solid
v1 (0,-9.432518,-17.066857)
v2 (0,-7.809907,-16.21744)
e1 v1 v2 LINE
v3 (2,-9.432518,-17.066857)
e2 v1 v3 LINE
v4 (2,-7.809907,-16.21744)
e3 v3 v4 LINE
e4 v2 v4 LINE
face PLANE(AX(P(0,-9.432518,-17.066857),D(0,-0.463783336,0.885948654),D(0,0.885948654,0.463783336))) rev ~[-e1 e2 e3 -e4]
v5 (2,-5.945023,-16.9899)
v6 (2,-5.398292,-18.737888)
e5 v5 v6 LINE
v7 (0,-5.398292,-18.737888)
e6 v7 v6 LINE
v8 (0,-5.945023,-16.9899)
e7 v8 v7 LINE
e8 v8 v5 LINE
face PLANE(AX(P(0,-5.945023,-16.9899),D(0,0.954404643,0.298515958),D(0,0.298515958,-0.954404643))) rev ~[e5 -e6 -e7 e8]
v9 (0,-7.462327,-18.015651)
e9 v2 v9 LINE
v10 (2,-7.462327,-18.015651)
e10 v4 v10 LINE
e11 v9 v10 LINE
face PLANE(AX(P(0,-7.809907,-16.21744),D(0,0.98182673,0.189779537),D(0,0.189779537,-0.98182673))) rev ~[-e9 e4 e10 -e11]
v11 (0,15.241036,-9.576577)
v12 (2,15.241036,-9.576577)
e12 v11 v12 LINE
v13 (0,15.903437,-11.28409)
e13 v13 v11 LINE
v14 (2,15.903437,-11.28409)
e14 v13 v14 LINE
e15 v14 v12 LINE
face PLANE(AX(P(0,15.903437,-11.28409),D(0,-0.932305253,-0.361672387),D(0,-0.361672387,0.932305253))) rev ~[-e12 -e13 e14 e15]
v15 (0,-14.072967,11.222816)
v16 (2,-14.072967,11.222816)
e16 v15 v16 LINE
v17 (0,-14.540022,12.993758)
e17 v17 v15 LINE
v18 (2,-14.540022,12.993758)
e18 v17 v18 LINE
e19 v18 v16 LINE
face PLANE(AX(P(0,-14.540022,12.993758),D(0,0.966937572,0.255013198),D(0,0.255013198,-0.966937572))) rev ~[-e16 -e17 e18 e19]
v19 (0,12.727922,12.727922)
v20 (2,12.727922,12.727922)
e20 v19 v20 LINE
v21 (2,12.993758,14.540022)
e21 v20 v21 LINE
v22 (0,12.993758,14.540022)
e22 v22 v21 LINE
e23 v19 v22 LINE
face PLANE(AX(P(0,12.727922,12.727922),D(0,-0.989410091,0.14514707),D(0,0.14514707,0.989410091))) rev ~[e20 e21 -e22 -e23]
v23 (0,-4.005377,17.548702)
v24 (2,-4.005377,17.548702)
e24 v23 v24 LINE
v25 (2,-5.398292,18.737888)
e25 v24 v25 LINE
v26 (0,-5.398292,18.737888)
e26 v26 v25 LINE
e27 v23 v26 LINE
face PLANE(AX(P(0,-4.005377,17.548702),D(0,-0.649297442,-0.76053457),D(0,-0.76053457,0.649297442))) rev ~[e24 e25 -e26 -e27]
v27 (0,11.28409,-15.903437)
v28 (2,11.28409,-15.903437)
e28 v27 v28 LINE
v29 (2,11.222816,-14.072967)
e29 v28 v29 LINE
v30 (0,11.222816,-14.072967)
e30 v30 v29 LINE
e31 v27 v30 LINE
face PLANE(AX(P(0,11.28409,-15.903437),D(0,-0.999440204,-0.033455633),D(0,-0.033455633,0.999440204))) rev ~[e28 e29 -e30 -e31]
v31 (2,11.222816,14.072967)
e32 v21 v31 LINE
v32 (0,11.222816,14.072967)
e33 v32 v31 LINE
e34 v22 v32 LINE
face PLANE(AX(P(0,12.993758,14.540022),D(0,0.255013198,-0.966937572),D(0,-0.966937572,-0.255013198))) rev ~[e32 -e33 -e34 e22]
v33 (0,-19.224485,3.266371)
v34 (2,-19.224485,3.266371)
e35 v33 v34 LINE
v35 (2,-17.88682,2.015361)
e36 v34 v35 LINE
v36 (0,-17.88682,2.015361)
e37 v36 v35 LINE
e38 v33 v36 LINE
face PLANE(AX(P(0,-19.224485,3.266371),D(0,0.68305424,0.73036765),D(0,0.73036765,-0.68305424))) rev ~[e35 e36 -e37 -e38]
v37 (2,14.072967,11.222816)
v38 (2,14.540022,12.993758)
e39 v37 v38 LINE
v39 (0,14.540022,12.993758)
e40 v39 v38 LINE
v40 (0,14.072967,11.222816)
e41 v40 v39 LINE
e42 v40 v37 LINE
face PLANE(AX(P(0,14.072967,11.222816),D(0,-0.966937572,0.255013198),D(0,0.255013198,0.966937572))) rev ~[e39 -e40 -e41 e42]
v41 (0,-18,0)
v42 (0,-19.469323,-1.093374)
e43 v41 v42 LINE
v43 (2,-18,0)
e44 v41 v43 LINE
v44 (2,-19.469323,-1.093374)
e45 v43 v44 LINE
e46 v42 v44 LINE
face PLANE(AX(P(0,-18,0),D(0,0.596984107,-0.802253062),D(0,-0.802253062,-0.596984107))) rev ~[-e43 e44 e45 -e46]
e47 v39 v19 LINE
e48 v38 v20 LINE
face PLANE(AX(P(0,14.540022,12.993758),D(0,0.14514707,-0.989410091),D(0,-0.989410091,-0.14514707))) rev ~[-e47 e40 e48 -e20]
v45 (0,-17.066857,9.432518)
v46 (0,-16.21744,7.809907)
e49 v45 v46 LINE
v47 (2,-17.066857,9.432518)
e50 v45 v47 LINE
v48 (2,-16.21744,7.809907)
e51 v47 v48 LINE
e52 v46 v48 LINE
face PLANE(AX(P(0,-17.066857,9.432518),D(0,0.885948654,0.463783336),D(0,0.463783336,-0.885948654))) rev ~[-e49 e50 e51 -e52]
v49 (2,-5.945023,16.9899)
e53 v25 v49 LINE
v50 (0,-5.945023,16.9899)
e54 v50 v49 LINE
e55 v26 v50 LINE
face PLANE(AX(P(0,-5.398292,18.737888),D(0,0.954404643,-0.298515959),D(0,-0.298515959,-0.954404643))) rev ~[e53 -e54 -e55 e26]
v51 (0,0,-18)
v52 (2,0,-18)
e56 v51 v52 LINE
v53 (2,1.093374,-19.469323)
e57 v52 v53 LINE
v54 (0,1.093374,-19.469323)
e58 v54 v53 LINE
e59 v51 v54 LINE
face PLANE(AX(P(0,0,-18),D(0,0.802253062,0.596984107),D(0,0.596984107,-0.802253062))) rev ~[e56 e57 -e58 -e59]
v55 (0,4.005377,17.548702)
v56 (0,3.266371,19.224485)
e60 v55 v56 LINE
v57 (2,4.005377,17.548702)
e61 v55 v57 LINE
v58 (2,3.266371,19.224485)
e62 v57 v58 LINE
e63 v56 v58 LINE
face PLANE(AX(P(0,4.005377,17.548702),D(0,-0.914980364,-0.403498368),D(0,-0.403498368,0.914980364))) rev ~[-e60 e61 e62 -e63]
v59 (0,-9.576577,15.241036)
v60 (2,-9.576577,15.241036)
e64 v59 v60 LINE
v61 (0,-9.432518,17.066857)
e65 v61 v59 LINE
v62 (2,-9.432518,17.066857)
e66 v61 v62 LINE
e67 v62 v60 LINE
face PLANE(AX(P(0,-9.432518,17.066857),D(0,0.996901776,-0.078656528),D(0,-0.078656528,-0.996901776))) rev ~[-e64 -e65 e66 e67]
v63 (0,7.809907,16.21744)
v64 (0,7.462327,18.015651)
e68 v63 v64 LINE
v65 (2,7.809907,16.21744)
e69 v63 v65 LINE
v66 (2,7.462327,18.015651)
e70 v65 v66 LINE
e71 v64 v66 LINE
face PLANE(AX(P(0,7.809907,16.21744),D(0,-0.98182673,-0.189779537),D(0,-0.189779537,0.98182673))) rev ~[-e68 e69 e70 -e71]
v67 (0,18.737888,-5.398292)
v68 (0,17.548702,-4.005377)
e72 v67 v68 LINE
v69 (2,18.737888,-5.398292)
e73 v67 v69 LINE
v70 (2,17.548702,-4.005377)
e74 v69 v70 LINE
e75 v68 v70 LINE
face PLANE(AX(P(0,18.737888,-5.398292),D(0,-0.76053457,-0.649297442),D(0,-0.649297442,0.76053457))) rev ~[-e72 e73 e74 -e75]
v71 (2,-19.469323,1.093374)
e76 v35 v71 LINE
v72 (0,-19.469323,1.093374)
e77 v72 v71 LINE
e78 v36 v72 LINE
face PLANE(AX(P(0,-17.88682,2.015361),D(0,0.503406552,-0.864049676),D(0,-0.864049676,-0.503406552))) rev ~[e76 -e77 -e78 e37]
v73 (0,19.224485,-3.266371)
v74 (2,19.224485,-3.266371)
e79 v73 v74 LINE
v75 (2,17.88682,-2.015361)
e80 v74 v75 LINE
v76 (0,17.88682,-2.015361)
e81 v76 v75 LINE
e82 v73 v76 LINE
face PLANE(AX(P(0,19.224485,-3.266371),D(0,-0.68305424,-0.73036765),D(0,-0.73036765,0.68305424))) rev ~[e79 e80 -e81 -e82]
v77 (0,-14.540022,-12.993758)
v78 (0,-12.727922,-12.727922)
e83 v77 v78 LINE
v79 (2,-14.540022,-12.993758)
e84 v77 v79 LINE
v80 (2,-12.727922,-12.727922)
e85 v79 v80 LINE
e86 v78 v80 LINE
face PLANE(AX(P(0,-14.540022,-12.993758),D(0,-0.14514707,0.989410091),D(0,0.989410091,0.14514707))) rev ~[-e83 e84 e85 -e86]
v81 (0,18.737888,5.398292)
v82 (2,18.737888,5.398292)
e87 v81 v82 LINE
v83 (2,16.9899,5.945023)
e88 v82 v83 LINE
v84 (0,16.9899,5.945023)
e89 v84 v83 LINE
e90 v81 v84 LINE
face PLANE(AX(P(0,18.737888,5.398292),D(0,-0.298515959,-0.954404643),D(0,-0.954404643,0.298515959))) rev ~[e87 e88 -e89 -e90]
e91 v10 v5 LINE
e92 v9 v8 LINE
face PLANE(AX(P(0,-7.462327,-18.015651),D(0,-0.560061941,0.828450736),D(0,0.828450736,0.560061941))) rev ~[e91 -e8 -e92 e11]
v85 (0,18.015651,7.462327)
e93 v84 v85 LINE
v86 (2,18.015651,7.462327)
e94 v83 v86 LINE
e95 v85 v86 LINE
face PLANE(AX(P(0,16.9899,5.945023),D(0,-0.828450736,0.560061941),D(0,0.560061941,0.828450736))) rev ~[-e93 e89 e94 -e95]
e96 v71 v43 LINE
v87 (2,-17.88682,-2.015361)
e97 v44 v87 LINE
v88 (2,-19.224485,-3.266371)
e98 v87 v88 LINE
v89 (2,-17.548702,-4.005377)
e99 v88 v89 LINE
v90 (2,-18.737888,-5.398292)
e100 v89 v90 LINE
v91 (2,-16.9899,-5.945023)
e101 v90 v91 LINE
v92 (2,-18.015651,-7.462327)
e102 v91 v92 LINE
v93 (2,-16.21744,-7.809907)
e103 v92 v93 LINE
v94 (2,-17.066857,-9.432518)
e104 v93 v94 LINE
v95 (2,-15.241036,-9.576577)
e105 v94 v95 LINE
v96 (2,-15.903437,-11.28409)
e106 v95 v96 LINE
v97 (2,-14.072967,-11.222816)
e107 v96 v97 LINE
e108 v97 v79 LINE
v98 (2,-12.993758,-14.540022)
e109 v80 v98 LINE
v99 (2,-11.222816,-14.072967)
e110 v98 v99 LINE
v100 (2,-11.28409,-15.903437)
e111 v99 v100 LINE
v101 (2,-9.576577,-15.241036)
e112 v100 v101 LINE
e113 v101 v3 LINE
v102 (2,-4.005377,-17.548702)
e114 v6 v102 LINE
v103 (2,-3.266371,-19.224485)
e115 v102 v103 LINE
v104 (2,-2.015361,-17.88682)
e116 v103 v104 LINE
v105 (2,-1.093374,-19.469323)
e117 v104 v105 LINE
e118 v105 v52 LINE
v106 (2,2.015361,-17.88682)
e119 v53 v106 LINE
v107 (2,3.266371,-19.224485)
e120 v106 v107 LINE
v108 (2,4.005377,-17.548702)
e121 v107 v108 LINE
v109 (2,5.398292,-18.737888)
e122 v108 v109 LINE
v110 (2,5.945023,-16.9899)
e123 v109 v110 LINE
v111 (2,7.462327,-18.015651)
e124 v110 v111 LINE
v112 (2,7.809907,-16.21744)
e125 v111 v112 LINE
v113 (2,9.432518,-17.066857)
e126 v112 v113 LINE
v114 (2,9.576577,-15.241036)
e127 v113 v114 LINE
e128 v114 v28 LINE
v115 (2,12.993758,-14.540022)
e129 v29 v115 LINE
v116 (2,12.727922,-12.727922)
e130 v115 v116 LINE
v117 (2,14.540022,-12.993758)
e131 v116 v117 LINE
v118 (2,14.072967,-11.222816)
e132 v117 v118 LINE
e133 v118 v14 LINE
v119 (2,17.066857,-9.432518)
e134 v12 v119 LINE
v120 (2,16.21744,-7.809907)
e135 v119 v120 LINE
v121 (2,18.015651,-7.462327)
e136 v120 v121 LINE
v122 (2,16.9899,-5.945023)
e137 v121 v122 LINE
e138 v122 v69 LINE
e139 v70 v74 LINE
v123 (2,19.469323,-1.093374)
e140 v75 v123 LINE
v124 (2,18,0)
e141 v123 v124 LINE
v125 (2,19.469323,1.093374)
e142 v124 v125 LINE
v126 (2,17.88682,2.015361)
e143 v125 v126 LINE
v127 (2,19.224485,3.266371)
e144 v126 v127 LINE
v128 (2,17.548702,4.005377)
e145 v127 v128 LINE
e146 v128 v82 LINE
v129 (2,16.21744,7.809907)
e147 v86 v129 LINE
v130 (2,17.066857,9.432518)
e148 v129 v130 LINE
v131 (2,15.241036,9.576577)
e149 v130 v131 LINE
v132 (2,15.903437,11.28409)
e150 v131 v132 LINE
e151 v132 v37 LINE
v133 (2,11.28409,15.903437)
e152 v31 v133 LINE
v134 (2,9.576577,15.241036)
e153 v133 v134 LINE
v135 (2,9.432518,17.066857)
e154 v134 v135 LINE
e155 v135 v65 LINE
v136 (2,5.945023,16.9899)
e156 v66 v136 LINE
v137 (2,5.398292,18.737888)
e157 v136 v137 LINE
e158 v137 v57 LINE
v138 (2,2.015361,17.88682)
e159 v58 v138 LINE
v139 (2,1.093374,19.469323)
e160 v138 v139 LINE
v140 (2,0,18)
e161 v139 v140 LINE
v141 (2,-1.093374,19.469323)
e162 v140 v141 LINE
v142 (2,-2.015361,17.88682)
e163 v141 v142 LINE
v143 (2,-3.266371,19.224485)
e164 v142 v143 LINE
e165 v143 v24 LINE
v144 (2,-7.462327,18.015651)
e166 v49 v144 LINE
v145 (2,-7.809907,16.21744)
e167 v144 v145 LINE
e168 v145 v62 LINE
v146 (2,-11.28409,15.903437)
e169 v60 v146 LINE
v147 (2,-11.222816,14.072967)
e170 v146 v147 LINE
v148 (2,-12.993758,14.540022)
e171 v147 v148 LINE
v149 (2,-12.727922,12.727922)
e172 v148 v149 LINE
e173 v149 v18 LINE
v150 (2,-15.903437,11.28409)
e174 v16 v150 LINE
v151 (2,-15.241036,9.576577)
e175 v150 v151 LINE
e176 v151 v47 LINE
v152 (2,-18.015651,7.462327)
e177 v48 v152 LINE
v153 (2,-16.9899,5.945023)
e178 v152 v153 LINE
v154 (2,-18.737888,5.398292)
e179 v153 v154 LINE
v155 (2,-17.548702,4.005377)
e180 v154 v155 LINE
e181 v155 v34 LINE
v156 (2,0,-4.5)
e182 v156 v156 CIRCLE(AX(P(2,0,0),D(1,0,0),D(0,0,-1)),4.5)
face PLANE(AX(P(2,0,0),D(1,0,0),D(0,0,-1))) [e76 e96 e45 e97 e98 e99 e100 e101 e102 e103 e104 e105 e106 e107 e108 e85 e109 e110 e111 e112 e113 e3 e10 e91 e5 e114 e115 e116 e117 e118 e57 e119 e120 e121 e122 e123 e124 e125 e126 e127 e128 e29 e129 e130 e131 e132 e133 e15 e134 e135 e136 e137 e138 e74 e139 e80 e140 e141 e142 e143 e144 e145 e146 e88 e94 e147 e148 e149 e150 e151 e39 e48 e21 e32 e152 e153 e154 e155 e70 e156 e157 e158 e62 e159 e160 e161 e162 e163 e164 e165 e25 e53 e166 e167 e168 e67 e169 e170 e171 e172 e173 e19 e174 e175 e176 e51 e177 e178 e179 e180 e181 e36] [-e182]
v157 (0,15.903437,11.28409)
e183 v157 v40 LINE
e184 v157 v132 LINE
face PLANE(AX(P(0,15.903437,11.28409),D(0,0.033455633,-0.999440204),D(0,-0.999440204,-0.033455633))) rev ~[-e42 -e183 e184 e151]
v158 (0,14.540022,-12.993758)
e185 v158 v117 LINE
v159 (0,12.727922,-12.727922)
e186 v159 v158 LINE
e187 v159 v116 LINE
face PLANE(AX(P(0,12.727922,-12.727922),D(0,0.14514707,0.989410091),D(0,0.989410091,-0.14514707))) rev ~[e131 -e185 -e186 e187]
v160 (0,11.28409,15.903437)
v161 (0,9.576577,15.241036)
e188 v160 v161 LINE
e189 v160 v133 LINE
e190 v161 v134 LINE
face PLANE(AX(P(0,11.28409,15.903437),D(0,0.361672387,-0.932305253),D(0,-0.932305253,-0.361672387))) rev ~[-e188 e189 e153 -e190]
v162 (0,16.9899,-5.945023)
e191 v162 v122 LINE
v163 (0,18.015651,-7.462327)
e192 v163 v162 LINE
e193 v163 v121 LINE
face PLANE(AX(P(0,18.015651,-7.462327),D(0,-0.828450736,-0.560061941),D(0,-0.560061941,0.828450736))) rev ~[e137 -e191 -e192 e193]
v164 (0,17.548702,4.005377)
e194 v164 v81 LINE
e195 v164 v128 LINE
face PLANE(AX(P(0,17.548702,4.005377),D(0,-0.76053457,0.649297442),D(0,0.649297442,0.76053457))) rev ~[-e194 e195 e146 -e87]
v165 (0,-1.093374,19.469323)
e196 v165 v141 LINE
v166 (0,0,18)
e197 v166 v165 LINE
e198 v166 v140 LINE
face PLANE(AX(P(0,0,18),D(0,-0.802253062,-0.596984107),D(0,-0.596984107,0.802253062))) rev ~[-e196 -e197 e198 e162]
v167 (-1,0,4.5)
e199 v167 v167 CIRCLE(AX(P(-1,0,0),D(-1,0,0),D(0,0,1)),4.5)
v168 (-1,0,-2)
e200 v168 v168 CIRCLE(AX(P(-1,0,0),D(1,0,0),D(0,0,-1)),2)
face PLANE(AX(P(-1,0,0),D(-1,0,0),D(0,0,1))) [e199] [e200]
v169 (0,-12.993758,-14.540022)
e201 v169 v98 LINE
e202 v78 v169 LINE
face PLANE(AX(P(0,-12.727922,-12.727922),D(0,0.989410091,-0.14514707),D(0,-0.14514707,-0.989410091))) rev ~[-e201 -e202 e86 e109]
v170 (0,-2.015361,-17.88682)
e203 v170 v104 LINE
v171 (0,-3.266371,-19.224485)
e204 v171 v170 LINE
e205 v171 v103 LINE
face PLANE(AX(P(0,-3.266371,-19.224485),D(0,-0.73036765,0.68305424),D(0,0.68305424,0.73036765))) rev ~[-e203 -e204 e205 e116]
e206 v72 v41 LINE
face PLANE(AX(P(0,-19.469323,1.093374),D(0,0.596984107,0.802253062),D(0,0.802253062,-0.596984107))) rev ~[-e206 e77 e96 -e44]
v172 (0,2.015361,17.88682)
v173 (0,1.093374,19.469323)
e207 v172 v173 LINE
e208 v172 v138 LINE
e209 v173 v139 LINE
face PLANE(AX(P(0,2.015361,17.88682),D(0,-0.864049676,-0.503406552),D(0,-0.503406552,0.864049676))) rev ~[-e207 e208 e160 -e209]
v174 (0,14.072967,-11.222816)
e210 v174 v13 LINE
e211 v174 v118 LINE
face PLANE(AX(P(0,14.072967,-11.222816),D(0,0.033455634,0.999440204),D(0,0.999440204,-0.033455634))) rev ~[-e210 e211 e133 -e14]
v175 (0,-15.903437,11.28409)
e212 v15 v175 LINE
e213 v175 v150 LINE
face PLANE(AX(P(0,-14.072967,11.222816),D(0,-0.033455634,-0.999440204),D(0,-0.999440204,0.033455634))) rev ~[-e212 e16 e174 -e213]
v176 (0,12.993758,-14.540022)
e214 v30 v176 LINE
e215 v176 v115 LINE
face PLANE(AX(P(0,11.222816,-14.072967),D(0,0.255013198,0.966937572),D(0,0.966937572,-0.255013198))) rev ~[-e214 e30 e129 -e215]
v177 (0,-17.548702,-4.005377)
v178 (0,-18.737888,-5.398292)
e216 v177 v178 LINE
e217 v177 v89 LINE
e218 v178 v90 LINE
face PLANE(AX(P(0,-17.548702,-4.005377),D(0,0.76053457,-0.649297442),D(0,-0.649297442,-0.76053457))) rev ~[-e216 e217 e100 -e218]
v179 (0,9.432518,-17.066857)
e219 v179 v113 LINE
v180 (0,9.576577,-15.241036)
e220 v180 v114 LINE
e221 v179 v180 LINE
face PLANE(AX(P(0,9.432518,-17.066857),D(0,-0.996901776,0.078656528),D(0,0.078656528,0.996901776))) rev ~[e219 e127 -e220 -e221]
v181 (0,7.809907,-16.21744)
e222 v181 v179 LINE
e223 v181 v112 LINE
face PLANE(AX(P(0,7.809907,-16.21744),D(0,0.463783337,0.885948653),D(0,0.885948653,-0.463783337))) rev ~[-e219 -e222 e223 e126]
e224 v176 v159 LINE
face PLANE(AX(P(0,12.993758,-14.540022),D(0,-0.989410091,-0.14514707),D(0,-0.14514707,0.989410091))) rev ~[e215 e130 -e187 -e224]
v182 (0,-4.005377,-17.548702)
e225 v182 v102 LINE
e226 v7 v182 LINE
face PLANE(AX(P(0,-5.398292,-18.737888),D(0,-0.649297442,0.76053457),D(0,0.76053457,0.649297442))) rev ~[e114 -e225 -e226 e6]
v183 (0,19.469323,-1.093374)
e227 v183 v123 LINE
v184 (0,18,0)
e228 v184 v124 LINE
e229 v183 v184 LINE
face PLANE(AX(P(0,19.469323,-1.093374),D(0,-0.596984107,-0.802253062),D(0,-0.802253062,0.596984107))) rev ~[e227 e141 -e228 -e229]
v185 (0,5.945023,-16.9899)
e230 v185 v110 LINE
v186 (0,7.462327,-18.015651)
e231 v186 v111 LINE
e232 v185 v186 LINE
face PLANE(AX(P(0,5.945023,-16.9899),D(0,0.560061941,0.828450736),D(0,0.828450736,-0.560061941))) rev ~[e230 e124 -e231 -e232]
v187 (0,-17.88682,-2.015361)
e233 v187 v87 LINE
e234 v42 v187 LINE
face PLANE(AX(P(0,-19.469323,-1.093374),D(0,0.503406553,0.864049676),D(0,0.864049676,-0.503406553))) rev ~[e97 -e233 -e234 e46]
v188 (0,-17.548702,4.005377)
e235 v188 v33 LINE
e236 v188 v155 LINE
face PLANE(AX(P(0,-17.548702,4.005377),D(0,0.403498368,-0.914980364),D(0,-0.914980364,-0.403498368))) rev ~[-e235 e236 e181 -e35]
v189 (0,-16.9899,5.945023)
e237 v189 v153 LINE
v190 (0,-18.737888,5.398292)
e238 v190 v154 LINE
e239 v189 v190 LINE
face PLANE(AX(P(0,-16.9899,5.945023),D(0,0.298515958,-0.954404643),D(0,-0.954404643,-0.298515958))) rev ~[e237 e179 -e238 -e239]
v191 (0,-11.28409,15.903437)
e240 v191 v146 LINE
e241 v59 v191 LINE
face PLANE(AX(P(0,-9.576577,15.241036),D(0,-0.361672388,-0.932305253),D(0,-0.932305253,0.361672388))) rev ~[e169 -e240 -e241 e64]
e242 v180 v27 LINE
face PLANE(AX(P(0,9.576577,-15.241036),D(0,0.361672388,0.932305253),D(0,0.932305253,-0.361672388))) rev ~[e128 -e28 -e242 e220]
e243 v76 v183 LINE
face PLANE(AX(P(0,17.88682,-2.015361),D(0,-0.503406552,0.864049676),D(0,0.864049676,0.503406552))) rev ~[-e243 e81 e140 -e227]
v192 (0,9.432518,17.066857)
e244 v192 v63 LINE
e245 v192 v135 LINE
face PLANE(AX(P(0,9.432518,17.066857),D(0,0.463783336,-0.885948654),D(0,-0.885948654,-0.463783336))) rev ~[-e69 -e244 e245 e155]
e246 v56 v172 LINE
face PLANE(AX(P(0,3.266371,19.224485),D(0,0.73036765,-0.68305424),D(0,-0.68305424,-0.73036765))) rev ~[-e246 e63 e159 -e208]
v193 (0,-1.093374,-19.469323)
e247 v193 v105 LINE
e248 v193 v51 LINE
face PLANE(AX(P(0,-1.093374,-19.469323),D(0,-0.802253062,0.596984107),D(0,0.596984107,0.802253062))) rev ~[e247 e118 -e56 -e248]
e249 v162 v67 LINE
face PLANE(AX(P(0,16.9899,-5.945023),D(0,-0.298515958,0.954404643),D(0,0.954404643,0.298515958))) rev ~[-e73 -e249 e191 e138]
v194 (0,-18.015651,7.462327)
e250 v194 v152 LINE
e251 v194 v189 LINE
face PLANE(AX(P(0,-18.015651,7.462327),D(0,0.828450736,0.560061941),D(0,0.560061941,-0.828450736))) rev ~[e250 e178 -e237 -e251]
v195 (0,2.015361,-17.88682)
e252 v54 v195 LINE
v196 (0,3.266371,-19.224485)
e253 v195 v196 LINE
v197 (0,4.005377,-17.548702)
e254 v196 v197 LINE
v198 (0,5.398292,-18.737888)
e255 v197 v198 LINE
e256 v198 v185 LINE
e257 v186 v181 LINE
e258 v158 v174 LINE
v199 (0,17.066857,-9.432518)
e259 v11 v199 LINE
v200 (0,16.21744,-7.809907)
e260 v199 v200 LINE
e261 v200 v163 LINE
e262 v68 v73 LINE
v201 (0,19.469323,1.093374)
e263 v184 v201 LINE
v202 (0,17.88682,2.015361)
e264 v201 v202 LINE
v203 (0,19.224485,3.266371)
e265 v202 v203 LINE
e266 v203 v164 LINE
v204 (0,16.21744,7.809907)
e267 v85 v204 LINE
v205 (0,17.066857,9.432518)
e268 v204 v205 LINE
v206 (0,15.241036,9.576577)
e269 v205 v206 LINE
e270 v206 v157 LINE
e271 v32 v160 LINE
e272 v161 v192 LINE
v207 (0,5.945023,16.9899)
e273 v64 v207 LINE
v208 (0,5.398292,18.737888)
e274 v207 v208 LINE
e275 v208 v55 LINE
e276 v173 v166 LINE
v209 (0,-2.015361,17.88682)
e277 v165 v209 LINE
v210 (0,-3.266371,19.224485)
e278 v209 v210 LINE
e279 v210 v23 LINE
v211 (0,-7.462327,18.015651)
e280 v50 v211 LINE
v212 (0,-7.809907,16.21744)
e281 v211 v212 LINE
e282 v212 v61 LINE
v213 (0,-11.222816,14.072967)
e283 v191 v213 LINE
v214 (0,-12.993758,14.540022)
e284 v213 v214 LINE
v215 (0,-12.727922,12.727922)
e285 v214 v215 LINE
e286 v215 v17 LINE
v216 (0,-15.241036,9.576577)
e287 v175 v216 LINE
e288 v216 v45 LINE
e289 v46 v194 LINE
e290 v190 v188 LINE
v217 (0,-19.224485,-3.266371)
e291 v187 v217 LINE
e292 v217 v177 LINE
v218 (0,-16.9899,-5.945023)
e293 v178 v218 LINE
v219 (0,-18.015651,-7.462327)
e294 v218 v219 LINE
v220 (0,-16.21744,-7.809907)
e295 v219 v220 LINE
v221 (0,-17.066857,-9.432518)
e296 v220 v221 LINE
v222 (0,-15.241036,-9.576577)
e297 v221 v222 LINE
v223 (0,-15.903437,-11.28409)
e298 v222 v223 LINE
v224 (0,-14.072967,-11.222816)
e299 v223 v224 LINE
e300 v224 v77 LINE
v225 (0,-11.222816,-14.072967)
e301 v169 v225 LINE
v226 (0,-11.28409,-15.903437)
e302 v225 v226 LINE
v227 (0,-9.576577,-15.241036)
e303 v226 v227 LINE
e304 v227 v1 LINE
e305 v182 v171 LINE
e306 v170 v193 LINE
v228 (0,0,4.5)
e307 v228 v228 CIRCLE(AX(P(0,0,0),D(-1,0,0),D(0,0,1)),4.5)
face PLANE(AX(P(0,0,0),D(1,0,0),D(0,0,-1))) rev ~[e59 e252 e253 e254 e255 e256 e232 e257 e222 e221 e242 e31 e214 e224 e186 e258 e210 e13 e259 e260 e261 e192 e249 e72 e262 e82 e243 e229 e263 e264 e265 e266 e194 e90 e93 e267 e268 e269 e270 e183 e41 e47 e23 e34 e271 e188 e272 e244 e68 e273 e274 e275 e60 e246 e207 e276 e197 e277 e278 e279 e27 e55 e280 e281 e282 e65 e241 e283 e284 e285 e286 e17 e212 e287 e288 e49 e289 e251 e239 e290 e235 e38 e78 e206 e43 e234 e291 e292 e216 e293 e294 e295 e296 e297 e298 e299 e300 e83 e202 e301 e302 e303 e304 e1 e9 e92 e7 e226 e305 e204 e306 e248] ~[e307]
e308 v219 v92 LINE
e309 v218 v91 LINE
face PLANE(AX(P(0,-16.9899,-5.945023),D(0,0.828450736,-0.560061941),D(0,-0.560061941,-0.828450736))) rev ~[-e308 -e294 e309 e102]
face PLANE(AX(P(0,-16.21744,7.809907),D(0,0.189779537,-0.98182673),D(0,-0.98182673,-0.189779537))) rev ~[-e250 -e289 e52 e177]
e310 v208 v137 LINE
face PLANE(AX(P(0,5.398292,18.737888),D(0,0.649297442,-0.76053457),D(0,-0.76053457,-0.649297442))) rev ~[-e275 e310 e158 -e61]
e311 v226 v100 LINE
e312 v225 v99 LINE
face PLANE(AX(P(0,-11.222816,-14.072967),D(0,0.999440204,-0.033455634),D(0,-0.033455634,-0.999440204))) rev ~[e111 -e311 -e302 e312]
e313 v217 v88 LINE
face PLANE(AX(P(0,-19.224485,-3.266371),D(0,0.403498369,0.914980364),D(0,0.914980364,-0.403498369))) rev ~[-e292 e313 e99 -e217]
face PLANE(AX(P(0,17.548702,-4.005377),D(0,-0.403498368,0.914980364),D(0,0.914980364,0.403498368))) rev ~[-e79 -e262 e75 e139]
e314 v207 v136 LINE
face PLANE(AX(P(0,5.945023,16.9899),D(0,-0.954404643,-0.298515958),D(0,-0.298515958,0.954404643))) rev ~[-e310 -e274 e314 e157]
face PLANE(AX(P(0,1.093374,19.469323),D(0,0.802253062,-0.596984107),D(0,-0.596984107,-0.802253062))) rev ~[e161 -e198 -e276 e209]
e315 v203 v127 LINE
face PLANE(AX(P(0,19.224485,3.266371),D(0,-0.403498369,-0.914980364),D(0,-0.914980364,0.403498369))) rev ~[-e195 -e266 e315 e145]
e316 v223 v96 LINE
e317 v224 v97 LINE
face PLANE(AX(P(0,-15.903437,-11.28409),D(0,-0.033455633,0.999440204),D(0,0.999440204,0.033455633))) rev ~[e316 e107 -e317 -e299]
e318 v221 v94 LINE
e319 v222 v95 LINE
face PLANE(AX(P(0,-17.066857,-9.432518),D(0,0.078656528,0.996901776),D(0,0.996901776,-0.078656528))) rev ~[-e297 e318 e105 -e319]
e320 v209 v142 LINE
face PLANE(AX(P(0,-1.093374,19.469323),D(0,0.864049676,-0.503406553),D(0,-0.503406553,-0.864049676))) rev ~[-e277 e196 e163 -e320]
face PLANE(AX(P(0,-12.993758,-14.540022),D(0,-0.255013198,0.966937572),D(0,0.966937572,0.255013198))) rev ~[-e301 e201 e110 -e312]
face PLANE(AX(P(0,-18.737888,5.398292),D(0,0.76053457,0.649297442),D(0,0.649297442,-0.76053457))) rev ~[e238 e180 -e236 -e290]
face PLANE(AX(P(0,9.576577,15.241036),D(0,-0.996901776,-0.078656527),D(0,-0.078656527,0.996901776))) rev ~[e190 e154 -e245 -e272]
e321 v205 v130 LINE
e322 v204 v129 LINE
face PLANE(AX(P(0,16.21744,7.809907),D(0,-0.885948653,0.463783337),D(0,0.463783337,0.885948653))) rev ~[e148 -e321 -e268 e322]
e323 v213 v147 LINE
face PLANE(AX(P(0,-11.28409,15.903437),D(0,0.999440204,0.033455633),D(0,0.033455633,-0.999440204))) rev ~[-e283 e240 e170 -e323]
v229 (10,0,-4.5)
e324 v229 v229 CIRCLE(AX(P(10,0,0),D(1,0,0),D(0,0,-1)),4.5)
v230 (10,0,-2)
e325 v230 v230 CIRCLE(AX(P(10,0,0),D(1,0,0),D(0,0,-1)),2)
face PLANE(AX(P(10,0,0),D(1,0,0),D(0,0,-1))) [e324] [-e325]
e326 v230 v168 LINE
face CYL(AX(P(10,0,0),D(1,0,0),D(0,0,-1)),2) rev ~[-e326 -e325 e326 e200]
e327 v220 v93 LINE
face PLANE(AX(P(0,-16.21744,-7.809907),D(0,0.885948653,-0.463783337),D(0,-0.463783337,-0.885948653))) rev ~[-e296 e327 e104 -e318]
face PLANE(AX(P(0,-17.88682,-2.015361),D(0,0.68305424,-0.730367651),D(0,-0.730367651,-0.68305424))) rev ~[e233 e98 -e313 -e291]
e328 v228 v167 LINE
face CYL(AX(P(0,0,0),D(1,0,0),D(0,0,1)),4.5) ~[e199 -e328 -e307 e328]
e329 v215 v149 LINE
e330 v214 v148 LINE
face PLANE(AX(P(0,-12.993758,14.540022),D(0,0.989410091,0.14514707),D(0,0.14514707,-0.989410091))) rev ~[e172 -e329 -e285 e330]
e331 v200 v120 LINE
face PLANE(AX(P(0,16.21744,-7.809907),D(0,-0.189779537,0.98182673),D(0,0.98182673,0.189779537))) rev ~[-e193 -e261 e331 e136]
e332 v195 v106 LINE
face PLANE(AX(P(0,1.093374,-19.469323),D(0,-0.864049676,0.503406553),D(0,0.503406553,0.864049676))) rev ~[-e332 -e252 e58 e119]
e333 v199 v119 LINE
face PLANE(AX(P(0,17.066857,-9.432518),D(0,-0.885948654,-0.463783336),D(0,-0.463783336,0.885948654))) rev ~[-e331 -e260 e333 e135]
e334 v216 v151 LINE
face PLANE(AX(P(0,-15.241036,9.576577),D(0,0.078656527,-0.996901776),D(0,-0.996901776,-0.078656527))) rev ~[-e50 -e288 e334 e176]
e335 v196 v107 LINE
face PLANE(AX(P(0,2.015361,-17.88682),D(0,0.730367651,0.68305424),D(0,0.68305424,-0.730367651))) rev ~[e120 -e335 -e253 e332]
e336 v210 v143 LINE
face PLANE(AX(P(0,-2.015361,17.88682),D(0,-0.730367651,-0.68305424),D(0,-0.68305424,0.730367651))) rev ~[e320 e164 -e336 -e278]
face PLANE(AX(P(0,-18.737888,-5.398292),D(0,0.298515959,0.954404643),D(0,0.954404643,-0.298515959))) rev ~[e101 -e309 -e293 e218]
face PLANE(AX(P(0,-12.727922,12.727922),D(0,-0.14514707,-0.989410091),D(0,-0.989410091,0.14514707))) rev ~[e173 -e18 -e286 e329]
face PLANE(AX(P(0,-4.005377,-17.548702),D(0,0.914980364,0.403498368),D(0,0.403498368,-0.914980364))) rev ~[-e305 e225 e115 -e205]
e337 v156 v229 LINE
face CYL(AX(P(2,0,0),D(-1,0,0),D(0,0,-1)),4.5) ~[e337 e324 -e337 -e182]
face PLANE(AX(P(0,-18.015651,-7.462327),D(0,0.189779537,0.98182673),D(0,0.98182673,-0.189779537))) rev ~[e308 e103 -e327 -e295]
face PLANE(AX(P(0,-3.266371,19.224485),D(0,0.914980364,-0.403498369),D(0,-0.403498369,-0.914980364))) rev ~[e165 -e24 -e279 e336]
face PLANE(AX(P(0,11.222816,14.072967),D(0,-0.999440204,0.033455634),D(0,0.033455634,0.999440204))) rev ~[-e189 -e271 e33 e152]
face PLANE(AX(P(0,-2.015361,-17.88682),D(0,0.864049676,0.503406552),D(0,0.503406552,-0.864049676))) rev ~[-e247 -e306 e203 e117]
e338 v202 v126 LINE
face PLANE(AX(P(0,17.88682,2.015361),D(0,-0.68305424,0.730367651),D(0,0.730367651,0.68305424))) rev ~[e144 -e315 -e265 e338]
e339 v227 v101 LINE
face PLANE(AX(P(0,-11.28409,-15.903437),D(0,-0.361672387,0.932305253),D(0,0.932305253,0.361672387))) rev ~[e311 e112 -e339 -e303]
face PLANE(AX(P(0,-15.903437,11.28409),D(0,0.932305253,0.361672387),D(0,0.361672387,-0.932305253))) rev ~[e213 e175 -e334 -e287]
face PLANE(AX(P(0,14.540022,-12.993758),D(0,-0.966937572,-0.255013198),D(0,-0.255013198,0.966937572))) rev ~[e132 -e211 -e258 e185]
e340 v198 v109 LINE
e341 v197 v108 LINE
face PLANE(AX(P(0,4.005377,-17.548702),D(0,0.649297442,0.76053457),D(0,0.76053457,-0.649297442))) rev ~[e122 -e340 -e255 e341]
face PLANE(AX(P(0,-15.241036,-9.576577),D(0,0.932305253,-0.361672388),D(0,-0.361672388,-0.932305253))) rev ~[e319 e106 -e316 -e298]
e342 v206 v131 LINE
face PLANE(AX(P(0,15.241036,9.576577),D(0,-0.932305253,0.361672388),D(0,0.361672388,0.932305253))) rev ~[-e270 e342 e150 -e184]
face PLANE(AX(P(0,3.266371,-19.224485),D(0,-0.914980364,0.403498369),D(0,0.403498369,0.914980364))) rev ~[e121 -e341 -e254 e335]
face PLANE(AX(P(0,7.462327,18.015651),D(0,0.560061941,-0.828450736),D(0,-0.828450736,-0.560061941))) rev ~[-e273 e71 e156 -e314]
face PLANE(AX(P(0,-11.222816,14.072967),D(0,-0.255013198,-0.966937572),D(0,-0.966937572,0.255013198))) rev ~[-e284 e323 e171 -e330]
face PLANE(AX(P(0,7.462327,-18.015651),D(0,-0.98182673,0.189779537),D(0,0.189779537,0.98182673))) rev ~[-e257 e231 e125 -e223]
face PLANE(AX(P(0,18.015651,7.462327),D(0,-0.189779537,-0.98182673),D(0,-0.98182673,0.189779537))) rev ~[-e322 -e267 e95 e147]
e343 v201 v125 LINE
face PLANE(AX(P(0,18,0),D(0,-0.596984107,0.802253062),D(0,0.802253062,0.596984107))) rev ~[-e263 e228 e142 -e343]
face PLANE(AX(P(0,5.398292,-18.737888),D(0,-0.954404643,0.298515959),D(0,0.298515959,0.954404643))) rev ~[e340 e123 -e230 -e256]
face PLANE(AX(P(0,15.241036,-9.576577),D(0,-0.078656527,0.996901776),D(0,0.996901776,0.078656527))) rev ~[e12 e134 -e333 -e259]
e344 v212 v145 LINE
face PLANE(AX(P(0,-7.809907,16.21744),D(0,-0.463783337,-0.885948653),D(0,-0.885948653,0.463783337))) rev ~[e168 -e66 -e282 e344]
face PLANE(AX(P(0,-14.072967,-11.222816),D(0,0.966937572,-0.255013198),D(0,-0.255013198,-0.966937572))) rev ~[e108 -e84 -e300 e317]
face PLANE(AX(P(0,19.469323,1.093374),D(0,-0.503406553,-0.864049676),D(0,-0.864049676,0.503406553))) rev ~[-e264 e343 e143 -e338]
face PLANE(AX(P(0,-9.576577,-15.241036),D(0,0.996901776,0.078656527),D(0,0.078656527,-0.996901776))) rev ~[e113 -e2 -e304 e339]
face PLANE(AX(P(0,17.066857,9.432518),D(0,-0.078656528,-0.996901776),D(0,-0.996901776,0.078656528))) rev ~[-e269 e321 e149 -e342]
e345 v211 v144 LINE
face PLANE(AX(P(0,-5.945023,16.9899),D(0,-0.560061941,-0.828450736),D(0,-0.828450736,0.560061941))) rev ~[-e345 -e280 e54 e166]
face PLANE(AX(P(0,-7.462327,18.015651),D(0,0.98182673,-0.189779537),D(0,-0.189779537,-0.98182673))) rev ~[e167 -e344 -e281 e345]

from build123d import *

# Parameters (mm, degrees)
SKETCH1_R           = 19.5
BOSS_EXTRUDE1_DEPTH = 2
SKETCH2_R           = 4.5
BOSS_EXTRUDE2_DEPTH = 8
SKETCH3_R           = 4.5
BOSS_EXTRUDE3_DEPTH = 1
SKETCH4_R           = 2
CUT_EXTRUDE1_DEPTH  = 11
CUT_EXTRUDE5_DEPTH  = 2
CIRPATTERN1_COUNT   = 56


with BuildPart() as part:
    # Sketch1 → Boss-Extrude1 (new body)
    with BuildSketch(Plane(origin=(0, 0, 0), x_dir=(0, 0, -1), z_dir=(1, 0, 0))):
        Circle(SKETCH1_R)
    extrude(amount=BOSS_EXTRUDE1_DEPTH)

    # Sketch2 → Boss-Extrude2 (add)
    with BuildSketch(Plane(origin=(2, 0, 0), x_dir=(0, 0, -1), z_dir=(1, 0, 0))):
        Circle(SKETCH2_R)
    extrude(amount=BOSS_EXTRUDE2_DEPTH)

    # Sketch3 → Boss-Extrude3 (add)
    with BuildSketch(Plane.ZY):
        Circle(SKETCH3_R)
    extrude(amount=BOSS_EXTRUDE3_DEPTH)

    # Sketch4 → Cut-Extrude1 (cut)
    with BuildSketch(Plane(origin=(10, 0, 0), x_dir=(0, 0, -1), z_dir=(1, 0, 0))):
        Circle(SKETCH4_R)
    extrude(amount=-CUT_EXTRUDE1_DEPTH, mode=Mode.SUBTRACT)

    # Sketch5 → Cut-Extrude5 (cut)
    with BuildSketch(Plane.ZY):
        with BuildLine():
            Line((-1.093373721, 19.469322893), (0, 18))
            Line((0, 18), (1.09337372, 19.469322893))
            ThreePointArc((1.09337372, 19.469322893), (-1e-09, 19.5), (-1.093373721, 19.469322893))
        make_face()
    cut_extrude5 = extrude(amount=-CUT_EXTRUDE5_DEPTH, mode=Mode.SUBTRACT)

    # CirPattern1: Cut-Extrude5 ×56 about axis
    cirpattern1_axis = Axis((0, 0, 0), (1, 0, 0))
    for i in range(1, CIRPATTERN1_COUNT):
        add(cut_extrude5.rotate(cirpattern1_axis, i * 360 / CIRPATTERN1_COUNT), mode=Mode.SUBTRACT)


solid = part.part
